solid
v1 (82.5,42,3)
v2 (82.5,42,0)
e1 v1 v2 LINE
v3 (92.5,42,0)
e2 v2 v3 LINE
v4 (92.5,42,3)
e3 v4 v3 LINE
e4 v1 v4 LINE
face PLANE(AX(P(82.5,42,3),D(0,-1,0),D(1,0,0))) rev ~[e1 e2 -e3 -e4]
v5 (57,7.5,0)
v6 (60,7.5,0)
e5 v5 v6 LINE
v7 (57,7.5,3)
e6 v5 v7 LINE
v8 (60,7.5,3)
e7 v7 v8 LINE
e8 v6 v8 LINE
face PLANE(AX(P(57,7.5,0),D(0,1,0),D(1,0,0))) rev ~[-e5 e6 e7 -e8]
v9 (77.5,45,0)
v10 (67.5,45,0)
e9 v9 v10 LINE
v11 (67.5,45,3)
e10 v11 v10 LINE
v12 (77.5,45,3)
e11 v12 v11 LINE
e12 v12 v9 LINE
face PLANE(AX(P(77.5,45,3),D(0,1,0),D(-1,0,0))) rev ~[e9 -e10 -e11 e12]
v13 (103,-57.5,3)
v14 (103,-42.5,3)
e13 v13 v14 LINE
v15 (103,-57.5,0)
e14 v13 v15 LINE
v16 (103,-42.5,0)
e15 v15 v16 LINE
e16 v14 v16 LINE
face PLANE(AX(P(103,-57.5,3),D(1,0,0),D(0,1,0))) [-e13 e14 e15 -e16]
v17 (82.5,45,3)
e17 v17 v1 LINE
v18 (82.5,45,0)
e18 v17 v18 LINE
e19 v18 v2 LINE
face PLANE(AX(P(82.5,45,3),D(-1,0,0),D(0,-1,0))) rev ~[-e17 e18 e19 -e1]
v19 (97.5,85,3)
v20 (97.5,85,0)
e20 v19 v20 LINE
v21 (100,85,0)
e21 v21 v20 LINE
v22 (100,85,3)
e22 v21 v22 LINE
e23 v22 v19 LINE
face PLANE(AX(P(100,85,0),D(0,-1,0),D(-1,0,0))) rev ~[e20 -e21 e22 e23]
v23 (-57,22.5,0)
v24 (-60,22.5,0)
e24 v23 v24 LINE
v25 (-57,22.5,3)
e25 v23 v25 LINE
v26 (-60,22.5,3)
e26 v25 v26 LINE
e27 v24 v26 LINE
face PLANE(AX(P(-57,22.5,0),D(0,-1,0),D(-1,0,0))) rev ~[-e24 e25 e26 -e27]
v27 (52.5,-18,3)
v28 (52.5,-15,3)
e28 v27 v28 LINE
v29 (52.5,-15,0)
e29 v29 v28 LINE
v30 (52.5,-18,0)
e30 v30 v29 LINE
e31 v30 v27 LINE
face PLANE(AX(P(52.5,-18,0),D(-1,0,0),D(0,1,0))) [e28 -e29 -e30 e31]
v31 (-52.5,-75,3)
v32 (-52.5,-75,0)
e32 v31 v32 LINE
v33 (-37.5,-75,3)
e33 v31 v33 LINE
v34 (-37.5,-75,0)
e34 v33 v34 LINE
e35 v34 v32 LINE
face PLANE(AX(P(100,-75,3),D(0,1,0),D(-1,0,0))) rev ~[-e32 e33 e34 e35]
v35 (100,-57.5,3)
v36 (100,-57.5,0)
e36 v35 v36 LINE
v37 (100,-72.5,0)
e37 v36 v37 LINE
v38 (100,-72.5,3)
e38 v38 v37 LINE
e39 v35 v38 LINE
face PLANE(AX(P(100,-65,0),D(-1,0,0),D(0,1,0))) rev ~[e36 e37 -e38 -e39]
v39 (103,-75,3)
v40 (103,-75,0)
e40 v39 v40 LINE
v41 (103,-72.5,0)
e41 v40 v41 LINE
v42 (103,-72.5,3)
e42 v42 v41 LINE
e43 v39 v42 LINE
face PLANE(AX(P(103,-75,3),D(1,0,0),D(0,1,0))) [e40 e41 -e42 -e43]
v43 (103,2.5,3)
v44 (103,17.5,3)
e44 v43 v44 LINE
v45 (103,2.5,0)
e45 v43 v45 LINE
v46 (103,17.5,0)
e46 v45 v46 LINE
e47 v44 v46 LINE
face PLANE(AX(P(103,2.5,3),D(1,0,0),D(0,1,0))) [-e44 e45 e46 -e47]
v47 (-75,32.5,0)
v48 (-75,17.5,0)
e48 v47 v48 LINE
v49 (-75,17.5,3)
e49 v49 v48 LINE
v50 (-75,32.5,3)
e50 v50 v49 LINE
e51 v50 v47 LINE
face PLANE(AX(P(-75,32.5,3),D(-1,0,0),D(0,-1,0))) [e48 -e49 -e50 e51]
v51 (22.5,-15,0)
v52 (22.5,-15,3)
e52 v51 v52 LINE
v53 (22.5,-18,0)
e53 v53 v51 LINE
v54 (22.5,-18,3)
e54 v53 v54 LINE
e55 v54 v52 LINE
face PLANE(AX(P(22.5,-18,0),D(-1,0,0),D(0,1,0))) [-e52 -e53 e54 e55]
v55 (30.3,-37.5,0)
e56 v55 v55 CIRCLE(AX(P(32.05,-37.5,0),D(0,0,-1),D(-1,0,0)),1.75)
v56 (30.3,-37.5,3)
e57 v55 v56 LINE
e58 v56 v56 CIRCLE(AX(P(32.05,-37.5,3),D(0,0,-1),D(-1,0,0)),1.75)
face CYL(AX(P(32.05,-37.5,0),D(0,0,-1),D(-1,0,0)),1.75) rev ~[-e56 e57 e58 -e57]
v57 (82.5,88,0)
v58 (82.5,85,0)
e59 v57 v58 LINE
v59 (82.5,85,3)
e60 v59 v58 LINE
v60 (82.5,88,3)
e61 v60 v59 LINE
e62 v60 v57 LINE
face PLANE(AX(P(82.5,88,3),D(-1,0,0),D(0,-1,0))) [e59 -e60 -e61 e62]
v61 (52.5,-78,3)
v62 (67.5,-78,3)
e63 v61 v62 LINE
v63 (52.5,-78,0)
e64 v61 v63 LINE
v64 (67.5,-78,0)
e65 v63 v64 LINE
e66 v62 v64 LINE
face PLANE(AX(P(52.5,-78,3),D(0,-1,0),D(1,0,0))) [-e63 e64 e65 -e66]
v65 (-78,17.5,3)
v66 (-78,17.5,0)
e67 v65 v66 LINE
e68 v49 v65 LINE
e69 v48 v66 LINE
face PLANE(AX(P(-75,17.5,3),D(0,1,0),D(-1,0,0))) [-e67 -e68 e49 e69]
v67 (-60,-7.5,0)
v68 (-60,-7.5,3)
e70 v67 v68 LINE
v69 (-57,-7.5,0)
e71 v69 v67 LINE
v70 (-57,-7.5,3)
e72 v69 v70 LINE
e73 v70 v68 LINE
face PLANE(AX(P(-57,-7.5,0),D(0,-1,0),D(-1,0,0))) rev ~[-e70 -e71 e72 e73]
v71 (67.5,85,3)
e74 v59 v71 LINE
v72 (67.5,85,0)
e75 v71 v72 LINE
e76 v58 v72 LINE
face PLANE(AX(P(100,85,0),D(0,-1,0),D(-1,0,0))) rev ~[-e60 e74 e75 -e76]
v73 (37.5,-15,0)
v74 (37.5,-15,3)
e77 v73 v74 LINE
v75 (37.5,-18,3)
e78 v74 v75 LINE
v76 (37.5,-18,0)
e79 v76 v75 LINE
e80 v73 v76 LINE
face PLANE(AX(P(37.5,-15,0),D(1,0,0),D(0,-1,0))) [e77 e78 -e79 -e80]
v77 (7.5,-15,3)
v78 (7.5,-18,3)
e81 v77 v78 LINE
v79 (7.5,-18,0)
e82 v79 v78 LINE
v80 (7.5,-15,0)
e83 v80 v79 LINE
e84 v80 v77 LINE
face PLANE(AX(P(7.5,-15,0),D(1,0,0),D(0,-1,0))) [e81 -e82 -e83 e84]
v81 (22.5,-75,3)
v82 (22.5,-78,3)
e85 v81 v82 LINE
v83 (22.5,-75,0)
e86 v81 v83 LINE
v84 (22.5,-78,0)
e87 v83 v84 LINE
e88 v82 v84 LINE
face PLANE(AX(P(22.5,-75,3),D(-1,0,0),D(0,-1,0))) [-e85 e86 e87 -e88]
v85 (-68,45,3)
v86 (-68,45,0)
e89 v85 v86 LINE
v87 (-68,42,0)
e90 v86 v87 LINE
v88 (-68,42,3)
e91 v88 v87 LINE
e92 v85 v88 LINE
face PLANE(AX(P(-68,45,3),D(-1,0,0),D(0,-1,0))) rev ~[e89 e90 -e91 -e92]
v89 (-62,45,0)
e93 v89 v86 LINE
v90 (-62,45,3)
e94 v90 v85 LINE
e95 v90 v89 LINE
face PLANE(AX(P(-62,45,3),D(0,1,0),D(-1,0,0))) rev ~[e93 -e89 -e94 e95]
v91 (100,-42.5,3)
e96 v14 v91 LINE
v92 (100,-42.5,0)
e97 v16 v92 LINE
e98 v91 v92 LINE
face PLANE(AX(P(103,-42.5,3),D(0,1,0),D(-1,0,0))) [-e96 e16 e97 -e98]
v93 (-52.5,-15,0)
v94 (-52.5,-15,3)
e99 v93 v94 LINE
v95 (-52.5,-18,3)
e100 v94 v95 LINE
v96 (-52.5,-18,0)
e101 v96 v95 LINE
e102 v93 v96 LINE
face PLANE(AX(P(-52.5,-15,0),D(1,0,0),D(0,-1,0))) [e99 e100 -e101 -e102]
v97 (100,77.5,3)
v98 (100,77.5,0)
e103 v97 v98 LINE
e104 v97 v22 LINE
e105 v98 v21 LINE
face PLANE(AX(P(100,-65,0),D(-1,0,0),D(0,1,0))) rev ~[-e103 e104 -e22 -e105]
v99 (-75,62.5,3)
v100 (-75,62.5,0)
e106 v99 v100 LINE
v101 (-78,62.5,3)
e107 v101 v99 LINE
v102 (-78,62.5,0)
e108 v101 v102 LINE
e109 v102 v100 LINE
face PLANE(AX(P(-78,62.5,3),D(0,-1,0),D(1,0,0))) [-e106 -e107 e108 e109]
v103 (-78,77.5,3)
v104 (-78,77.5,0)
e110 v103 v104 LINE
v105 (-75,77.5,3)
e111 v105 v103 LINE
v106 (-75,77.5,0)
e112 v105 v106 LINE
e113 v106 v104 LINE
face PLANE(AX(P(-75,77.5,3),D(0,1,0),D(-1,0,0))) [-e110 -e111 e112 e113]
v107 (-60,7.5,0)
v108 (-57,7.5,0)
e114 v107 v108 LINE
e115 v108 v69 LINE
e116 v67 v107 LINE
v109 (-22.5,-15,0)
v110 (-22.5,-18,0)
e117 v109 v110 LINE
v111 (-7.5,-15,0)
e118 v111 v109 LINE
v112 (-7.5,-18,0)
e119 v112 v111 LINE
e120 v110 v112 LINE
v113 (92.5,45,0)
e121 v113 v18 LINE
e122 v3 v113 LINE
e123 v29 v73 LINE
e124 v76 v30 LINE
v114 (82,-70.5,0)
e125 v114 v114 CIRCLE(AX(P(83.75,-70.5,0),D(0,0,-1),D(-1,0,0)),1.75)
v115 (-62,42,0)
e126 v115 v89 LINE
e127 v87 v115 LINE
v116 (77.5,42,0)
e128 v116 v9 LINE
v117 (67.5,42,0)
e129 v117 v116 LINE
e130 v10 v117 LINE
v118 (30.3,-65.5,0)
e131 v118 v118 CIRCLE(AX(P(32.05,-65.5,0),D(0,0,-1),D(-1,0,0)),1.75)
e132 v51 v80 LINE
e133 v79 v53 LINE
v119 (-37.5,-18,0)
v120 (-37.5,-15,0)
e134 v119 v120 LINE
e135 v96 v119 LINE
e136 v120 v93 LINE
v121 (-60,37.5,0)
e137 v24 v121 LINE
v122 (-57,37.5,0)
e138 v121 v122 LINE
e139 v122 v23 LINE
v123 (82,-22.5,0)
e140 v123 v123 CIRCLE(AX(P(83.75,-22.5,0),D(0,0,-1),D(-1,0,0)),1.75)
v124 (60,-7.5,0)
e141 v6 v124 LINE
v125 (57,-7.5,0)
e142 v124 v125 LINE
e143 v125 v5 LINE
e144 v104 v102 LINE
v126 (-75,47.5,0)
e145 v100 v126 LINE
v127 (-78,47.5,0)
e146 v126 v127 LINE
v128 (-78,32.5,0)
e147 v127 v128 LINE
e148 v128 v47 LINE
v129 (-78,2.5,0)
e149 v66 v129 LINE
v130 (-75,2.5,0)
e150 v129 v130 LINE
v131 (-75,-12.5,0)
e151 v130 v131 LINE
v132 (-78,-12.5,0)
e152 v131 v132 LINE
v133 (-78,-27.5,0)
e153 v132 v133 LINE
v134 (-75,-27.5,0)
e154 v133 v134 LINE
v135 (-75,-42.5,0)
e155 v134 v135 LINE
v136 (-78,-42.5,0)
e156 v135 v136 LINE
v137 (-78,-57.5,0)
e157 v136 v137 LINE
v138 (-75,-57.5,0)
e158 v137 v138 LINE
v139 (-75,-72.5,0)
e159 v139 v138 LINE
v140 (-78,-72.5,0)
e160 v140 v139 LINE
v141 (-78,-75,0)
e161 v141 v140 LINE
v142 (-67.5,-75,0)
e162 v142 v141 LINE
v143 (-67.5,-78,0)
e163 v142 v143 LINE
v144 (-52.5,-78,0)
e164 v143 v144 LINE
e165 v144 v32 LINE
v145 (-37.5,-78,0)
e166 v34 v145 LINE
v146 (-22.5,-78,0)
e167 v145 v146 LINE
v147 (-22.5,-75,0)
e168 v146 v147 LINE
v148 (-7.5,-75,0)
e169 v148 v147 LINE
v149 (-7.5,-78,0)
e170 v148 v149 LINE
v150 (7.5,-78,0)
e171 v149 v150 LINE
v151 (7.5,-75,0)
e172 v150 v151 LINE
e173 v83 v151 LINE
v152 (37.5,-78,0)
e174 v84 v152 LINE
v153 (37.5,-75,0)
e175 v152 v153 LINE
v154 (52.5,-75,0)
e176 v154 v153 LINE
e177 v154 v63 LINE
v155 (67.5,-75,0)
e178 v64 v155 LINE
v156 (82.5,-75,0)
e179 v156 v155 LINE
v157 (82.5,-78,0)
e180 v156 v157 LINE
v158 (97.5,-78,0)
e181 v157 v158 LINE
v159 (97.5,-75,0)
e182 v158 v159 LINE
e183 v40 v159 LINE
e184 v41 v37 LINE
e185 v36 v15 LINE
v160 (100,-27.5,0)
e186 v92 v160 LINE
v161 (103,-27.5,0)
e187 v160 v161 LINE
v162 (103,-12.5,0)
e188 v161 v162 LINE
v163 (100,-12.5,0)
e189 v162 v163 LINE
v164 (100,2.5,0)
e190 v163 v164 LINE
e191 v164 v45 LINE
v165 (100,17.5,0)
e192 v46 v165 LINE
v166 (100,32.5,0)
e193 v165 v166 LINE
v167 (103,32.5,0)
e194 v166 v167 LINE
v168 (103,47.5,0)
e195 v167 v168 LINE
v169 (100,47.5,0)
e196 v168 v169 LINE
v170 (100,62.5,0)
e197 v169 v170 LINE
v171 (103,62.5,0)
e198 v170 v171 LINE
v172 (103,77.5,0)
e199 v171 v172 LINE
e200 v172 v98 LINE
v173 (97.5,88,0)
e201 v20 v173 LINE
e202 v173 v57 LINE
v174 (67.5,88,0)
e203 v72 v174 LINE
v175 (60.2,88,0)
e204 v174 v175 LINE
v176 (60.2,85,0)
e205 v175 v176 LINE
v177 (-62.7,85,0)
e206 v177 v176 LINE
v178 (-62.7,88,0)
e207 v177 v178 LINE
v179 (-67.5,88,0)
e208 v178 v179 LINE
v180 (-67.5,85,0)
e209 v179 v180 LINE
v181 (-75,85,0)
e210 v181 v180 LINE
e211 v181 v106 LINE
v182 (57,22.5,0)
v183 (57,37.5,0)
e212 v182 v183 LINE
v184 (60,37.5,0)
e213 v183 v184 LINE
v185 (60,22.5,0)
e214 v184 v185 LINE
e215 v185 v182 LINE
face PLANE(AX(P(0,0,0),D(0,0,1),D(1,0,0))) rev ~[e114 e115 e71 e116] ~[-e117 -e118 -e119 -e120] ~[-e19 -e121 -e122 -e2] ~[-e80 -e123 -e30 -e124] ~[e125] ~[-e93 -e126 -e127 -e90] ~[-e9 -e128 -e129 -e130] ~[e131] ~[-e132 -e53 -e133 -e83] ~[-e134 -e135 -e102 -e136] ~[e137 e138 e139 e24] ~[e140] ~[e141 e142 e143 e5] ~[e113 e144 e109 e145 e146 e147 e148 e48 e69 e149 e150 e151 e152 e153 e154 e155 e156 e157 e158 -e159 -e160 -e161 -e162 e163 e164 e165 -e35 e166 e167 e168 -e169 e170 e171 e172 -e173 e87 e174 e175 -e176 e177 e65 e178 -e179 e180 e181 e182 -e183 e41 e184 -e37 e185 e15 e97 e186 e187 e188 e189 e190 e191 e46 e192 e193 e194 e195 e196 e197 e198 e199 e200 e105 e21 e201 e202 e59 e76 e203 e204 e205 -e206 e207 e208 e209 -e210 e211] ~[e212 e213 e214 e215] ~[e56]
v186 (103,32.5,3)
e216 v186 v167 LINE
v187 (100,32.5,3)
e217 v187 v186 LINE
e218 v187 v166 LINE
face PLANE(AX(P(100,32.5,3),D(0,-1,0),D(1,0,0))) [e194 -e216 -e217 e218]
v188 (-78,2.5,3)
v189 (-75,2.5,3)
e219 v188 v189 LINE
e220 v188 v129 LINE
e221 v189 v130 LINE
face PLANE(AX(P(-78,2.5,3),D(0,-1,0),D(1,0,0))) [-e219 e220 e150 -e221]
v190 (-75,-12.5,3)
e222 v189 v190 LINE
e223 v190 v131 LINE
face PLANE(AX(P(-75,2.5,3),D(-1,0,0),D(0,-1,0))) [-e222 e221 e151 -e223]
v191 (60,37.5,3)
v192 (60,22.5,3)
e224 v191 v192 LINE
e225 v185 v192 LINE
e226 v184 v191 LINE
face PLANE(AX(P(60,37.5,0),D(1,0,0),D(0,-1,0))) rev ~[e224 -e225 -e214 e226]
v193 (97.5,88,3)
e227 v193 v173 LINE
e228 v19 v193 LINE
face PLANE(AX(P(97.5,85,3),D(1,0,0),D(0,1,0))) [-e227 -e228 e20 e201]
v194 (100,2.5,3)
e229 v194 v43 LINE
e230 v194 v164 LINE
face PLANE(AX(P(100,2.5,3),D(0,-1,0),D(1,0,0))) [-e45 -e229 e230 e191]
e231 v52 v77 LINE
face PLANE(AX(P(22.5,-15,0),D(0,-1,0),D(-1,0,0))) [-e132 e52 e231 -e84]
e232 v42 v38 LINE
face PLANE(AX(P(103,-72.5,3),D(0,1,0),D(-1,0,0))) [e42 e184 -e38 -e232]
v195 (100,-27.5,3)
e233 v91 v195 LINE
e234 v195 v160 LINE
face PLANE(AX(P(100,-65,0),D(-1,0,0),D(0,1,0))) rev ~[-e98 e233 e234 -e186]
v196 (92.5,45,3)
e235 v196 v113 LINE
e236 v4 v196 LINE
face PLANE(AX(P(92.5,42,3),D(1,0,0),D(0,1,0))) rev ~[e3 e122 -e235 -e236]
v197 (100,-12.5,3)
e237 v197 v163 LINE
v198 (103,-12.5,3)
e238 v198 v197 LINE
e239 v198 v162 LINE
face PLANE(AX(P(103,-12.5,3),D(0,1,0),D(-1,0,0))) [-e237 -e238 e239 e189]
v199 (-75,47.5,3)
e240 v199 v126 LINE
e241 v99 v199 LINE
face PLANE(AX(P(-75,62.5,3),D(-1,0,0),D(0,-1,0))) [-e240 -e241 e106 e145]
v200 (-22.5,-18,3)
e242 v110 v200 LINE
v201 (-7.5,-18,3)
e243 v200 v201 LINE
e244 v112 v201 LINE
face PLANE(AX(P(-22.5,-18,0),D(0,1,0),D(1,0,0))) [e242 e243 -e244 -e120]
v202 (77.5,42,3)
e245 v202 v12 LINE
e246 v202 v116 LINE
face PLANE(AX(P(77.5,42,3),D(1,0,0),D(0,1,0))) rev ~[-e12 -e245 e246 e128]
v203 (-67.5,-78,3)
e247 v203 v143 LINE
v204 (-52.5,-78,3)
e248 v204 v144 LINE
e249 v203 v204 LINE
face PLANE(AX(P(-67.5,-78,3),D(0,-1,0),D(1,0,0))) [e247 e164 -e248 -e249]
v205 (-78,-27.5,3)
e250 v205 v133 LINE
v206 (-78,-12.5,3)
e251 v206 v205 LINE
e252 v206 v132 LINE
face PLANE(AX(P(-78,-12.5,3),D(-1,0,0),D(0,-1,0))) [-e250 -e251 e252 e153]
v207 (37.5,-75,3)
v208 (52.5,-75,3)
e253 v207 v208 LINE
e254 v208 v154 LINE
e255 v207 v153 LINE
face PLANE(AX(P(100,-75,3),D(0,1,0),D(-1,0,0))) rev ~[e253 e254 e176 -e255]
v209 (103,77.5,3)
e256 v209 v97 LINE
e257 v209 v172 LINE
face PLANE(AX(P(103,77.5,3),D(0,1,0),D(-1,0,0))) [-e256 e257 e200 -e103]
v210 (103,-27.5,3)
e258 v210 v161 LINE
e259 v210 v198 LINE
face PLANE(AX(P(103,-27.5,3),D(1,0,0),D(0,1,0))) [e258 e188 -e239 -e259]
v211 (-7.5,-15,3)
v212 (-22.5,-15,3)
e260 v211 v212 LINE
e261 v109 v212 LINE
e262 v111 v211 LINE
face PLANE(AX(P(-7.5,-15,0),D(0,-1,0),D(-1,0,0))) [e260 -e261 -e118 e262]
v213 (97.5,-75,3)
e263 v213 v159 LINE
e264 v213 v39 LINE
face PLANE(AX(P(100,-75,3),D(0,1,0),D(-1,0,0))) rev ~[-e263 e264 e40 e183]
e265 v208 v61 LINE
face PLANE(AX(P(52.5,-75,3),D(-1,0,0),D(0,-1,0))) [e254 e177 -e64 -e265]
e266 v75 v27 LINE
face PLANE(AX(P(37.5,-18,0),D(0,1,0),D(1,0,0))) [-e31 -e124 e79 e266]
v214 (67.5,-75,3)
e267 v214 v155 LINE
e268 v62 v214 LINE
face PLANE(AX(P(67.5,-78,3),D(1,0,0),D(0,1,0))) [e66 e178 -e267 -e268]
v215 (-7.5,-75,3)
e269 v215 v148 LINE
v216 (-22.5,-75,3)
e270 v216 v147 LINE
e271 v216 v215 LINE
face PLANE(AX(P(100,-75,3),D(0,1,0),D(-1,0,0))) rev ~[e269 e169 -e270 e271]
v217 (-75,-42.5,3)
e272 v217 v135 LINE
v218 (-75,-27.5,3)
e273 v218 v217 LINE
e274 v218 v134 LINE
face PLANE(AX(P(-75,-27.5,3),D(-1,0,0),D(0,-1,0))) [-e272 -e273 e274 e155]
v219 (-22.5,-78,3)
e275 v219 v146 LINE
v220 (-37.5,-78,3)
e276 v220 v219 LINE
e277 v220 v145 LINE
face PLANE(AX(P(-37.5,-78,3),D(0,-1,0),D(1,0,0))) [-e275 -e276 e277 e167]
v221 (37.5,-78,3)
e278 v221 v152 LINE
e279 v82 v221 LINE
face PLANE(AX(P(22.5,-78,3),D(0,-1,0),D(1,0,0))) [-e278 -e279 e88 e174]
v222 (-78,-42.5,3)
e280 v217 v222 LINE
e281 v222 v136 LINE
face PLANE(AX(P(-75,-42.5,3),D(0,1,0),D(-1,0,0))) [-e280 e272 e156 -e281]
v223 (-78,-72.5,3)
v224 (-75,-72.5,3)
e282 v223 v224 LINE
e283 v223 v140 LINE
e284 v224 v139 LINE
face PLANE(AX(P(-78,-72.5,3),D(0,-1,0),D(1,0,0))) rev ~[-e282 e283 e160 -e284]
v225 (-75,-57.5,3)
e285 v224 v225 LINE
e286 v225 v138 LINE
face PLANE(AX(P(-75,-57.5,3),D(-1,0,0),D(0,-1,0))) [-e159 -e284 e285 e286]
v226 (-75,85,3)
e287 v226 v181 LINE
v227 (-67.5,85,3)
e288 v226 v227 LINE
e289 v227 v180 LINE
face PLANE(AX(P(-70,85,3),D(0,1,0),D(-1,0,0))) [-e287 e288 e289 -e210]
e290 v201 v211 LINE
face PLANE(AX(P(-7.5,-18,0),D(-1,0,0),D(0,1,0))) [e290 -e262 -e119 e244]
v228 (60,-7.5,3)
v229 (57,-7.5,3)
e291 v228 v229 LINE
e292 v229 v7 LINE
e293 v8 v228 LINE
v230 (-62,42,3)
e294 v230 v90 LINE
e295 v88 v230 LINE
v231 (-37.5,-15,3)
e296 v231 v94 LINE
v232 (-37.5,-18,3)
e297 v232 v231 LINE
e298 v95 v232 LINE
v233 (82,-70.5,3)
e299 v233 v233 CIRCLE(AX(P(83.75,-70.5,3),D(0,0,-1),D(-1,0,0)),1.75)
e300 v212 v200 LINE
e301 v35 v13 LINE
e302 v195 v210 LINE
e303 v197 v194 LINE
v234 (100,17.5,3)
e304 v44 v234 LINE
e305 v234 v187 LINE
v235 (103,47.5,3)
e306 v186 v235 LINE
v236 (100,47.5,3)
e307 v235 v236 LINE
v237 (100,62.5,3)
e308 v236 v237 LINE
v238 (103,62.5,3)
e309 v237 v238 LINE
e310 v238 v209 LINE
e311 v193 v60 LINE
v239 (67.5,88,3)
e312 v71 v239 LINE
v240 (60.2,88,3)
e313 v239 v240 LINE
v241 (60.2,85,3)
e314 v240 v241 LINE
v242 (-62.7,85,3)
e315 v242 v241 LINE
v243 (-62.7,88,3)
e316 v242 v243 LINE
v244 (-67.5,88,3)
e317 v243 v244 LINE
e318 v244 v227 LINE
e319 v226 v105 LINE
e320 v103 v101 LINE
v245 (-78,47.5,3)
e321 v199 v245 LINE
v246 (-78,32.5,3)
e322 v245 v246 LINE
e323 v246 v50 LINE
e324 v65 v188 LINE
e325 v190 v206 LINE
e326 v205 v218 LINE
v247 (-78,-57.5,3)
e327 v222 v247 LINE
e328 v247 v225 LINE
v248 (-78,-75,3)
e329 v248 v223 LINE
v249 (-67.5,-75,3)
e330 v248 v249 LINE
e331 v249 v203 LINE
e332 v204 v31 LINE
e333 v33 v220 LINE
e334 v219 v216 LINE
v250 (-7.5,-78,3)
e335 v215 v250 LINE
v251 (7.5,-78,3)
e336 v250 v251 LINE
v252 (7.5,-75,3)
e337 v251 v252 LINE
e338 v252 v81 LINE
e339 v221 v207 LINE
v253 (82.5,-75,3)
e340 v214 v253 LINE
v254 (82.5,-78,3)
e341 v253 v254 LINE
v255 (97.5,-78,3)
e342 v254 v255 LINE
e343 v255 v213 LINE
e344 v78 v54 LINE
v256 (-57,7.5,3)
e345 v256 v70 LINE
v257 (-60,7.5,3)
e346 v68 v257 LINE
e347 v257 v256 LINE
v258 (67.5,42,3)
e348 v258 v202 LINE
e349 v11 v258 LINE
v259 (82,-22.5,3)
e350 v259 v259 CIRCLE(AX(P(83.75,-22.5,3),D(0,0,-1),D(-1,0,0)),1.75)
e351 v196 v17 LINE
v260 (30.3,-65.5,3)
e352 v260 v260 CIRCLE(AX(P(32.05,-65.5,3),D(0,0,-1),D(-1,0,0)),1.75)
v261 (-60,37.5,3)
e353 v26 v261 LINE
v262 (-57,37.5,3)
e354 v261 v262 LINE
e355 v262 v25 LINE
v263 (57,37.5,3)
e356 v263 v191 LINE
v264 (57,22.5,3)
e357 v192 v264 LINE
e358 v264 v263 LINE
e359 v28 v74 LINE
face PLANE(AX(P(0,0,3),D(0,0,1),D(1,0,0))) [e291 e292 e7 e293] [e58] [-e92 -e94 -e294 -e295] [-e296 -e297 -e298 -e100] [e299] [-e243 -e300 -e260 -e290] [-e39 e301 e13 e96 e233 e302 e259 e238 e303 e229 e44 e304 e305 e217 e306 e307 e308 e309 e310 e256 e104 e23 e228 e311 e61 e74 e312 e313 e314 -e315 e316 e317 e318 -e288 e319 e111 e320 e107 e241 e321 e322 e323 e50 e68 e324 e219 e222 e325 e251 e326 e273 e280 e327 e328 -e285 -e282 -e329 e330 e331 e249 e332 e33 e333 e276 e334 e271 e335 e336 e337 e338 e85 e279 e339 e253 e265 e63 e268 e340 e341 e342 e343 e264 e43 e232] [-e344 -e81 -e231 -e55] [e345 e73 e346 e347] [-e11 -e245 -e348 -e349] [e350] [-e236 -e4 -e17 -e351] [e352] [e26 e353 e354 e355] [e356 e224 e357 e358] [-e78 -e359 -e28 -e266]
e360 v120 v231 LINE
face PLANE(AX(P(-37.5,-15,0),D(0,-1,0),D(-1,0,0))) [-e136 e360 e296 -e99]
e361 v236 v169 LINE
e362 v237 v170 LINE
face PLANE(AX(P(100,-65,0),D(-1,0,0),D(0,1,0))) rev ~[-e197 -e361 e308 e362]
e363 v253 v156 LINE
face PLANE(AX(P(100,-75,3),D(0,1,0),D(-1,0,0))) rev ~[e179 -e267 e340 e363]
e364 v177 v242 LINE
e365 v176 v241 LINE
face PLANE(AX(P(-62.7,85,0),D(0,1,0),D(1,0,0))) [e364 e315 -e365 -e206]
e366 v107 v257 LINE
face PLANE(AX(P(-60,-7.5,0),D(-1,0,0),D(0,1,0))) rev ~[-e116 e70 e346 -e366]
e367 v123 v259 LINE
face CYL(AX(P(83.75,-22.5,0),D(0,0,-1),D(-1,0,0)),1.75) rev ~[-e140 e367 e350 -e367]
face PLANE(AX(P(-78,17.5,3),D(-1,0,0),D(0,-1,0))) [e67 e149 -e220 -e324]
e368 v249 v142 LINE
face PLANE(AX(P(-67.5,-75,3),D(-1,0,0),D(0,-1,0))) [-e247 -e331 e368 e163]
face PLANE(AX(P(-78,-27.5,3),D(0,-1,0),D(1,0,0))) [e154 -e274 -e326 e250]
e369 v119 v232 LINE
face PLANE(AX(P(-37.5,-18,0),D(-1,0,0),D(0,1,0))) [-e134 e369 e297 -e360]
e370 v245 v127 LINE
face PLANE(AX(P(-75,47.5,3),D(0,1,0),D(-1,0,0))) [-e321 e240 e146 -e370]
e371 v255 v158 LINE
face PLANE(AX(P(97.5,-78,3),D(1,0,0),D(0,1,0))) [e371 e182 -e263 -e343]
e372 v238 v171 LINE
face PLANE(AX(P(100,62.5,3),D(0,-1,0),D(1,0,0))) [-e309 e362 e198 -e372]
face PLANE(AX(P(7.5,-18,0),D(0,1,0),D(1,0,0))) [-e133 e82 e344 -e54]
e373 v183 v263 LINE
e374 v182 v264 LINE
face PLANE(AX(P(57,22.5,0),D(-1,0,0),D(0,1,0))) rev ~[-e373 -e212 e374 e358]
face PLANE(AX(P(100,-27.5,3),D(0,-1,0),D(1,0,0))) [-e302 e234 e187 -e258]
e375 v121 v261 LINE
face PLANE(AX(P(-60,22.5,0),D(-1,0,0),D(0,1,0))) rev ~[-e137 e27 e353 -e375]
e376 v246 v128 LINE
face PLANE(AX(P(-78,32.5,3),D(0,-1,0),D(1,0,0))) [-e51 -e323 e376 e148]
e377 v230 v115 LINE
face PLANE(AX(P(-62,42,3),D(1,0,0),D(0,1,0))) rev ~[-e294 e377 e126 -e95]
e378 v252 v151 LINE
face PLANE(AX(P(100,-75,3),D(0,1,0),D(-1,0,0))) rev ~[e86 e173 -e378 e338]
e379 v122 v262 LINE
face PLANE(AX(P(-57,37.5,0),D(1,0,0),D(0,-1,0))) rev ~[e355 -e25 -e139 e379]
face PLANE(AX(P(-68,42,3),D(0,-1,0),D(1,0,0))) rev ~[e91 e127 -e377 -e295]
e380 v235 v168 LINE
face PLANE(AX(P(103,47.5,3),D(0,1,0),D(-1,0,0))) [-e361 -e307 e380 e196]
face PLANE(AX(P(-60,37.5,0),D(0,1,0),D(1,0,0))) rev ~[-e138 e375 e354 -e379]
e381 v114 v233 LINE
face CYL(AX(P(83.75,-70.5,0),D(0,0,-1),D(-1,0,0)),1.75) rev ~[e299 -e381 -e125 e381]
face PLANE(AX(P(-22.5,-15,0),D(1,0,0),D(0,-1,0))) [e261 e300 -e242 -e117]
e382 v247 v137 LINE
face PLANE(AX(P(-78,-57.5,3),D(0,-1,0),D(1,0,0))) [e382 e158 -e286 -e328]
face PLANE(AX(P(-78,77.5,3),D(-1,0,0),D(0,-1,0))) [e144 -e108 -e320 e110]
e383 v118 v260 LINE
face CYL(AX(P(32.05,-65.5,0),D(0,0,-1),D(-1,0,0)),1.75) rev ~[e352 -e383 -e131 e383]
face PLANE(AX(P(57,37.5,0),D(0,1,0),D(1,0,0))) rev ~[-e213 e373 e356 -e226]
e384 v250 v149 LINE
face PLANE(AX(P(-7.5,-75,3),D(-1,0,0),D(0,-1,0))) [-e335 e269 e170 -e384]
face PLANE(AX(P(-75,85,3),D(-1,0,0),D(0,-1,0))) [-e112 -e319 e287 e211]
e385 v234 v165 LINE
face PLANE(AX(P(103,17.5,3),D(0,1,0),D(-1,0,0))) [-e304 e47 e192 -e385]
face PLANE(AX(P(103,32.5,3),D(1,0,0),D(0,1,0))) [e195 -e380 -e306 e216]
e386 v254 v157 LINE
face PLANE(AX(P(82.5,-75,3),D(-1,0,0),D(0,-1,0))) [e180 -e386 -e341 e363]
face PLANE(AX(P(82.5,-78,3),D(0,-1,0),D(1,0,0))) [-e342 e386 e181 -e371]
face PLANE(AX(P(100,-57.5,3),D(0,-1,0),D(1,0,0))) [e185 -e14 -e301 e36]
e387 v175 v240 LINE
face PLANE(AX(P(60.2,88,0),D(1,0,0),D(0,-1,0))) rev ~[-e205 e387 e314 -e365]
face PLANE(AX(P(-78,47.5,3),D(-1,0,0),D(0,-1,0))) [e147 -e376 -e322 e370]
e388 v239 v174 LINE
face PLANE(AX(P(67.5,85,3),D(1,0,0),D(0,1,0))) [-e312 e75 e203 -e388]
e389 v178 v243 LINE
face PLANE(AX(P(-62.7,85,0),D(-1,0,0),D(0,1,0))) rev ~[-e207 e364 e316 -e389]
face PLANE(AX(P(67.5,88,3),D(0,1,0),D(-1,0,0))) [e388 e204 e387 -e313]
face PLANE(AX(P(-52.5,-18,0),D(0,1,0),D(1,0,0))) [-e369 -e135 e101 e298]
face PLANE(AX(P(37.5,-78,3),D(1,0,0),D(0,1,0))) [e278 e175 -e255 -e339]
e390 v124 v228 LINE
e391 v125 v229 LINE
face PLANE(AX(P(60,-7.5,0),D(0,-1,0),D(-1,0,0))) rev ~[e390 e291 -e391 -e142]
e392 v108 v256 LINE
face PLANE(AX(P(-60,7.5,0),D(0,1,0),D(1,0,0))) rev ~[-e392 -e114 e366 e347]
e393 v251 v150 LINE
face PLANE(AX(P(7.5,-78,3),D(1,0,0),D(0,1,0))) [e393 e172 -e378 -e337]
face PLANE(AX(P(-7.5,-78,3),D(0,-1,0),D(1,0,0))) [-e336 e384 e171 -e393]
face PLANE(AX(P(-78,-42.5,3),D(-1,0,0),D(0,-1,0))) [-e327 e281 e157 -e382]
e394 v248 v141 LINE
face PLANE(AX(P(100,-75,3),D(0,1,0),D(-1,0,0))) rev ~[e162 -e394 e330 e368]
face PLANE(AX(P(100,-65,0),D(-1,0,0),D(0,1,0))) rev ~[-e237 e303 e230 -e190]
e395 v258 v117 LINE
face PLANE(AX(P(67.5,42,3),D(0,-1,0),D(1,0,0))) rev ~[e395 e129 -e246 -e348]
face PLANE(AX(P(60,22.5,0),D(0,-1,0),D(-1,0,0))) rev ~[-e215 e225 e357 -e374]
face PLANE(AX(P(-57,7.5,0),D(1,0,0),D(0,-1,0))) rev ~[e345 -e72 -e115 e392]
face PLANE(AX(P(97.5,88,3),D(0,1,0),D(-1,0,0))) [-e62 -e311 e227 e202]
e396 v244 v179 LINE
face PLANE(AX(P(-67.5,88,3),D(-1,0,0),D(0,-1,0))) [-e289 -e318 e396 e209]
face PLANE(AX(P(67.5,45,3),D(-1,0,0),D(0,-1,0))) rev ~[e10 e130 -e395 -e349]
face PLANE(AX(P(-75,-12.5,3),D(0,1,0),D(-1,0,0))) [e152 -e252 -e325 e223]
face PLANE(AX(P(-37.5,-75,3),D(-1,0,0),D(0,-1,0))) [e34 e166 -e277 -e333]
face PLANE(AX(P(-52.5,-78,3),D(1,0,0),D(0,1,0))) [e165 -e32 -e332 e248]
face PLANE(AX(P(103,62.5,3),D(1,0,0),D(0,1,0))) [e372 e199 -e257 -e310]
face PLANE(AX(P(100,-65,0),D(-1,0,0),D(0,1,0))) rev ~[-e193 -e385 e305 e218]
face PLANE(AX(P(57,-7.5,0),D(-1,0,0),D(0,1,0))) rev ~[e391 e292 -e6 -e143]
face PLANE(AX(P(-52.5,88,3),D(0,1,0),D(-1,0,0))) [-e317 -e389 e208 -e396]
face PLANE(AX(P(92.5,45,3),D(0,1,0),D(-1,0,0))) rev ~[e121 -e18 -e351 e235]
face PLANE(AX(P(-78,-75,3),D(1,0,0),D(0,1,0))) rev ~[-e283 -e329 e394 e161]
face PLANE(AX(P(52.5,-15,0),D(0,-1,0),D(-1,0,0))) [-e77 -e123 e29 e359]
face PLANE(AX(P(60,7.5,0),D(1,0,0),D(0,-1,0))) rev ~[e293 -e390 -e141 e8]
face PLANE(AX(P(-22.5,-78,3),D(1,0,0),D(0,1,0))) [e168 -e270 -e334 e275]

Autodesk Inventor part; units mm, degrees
ref_plane "YZ Plane" through (0, 0, 0) normal (1, 0, 0) x (0, 1, 0)
ref_plane "XZ Plane" through (0, 0, 0) normal (0, 1, 0) x (-1, 0, 0)
ref_plane "XY Plane" through (0, 0, 0) normal (0, 0, 1) x (1, 0, 0)
sketch "Sketch1" plane through (0, 0, 0) normal (0, 0, 1) x (1, 0, 0)
  line L0 (-70, -65) -> (70, -65)
  line L1 (-70, 65) -> (-70, -65)
  line L2 (-70, -65) -> (70, 65) construction
  line L3 (70, -65) -> (-70, 65) construction
  line L4 (-52.5, -18) -> (-37.5, -18)
  line L5 (-37.5, -18) -> (-37.5, -15)
  line L6 (-37.5, -15) -> (-52.5, -15)
  line L7 (-52.5, -15) -> (-52.5, -18)
  line L8 (-52.5, -18) -> (-37.5, -15) construction
  line L9 (-37.5, -18) -> (-52.5, -15) construction
  line L10 (-22.5, -18) -> (-7.5, -18)
  line L11 (-7.5, -18) -> (-7.5, -15)
  line L12 (-7.5, -15) -> (-22.5, -15)
  line L13 (-22.5, -15) -> (-22.5, -18)
  line L14 (-22.5, -18) -> (-7.5, -15) construction
  line L15 (-7.5, -18) -> (-22.5, -15) construction
  line L16 (7.5, -18) -> (22.5, -18)
  line L17 (22.5, -18) -> (22.5, -15)
  line L18 (22.5, -15) -> (7.5, -15)
  line L19 (7.5, -15) -> (7.5, -18)
  line L20 (7.5, -18) -> (22.5, -15) construction
  line L21 (22.5, -18) -> (7.5, -15) construction
  line L22 (37.5, -18) -> (52.5, -18)
  line L23 (52.5, -18) -> (52.5, -15)
  line L24 (52.5, -15) -> (37.5, -15)
  line L25 (37.5, -15) -> (37.5, -18)
  line L26 (37.5, -18) -> (52.5, -15) construction
  line L27 (52.5, -18) -> (37.5, -15) construction
  line L28 (-52.5, -15) -> (-57, -15) construction
  line L29 (-57, -15) -> (-57, -7.5) construction
  line L30 (-57, -7.5) -> (-60, -7.5)
  line L31 (-60, -7.5) -> (-60, 7.5)
  line L32 (-60, 7.5) -> (-57, 7.5)
  line L33 (-57, 7.5) -> (-57, -7.5)
  line L34 (-60, 37.5) -> (-57, 37.5)
  line L35 (-60, 22.5) -> (-60, 37.5)
  line L36 (-57, 37.5) -> (-57, 22.5)
  line L37 (-57, 22.5) -> (-60, 22.5)
  line L38 (57, 7.5) -> (60, 7.5)
  line L39 (57, -7.5) -> (57, 7.5)
  line L40 (60, 7.5) -> (60, -7.5)
  line L41 (60, -7.5) -> (57, -7.5)
  line L42 (57, 37.5) -> (60, 37.5)
  line L43 (57, 22.5) -> (57, 37.5)
  line L44 (60, 37.5) -> (60, 22.5)
  line L45 (60, 22.5) -> (57, 22.5)
  line L46 (70, -65) -> (100, -65)
  line L47 (100, -65) -> (100, 85)
  line L48 (100, 85) -> (-70, 85)
  line L49 (-70, 85) -> (-70, 65)
  point P0 (0, 0)
  point P1 (-45, -16.5)
  point P2 (-15, -16.5)
  point P3 (15, -16.5)
  point P4 (45, -16.5)
  dimension "d0" = 140
  dimension "d1" = 130
  dimension "d2" = 15
  dimension "d3" = 3
  dimension "d4" = 17.5
  dimension "d8" = 30
  dimension "d13" = 4.5
  dimension "d14" = 7.5
  dimension "d15" = 3
  dimension "d16" = 15
  dimension "d19" = 30
  dimension "d22" = 117
  dimension "d27" = 30
  dimension "d28" = 150
  dimension "d29" = 47.121
  dimension "d30" = 47.121
  dimension "d31" = 57.5
extrude "Extrusion1" add sketch "Sketch1" along normal blind 3
sketch "Sketch2" plane through (0, 0, 3) normal (0, 0, 1) x (1, 0, 0)
  line L0 (100, 85) -> (-70, 85) projected
  line L1 (-67.5, 85) -> (-52.5, 85)
  line L2 (-52.5, 85) -> (-52.5, 88)
  line L3 (-52.5, 88) -> (-67.5, 88)
  line L4 (-67.5, 88) -> (-67.5, 85)
  line L5 (-70, 85) -> (-70, -65) projected
  line L6 (-37.5, 85) -> (-22.5, 85)
  line L7 (-22.5, 85) -> (-22.5, 88)
  line L8 (-22.5, 88) -> (-37.5, 88)
  line L9 (-37.5, 88) -> (-37.5, 85)
  line L10 (-7.5, 85) -> (7.5, 85)
  line L11 (7.5, 85) -> (7.5, 88)
  line L12 (7.5, 88) -> (-7.5, 88)
  line L13 (-7.5, 88) -> (-7.5, 85)
  line L14 (22.5, 85) -> (37.5, 85)
  line L15 (37.5, 85) -> (37.5, 88)
  line L16 (37.5, 88) -> (22.5, 88)
  line L17 (22.5, 88) -> (22.5, 85)
  line L18 (52.5, 85) -> (67.5, 85)
  line L19 (67.5, 85) -> (67.5, 88)
  line L20 (67.5, 88) -> (52.5, 88)
  line L21 (52.5, 88) -> (52.5, 85)
  line L22 (82.5, 85) -> (97.5, 85)
  line L23 (97.5, 85) -> (97.5, 88)
  line L24 (97.5, 88) -> (82.5, 88)
  line L25 (82.5, 88) -> (82.5, 85)
  line L26 (-67.5, -78) -> (-52.5, -78)
  line L27 (-52.5, -78) -> (-52.5, -75)
  line L28 (-52.5, -75) -> (-67.5, -75)
  line L29 (-67.5, -75) -> (-67.5, -78)
  line L30 (-37.5, -78) -> (-22.5, -78)
  line L31 (-22.5, -78) -> (-22.5, -75)
  line L32 (-22.5, -75) -> (-37.5, -75)
  line L33 (-37.5, -75) -> (-37.5, -78)
  line L34 (-7.5, -78) -> (7.5, -78)
  line L35 (7.5, -78) -> (7.5, -75)
  line L36 (7.5, -75) -> (-7.5, -75)
  line L37 (-7.5, -75) -> (-7.5, -78)
  line L38 (22.5, -78) -> (37.5, -78)
  line L39 (37.5, -78) -> (37.5, -75)
  line L40 (37.5, -75) -> (22.5, -75)
  line L41 (22.5, -75) -> (22.5, -78)
  line L42 (52.5, -78) -> (67.5, -78)
  line L43 (67.5, -78) -> (67.5, -75)
  line L44 (67.5, -75) -> (52.5, -75)
  line L45 (52.5, -75) -> (52.5, -78)
  line L46 (82.5, -78) -> (97.5, -78)
  line L47 (97.5, -78) -> (97.5, -75)
  line L48 (97.5, -75) -> (82.5, -75)
  line L49 (82.5, -75) -> (82.5, -78)
  line L50 (-70, 77.5) -> (-73, 77.5)
  line L51 (-73, 77.5) -> (-73, 62.5)
  line L52 (-73, 62.5) -> (-70, 62.5)
  line L53 (-70, 62.5) -> (-70, 77.5)
  line L54 (-70, 32.5) -> (-70, 47.5)
  line L55 (-73, 32.5) -> (-70, 32.5)
  line L56 (-73, 47.5) -> (-73, 32.5)
  line L57 (-70, 47.5) -> (-73, 47.5)
  line L58 (-70, 2.5) -> (-70, 17.5)
  line L59 (-73, 2.5) -> (-70, 2.5)
  line L60 (-73, 17.5) -> (-73, 2.5)
  line L61 (-70, 17.5) -> (-73, 17.5)
  line L62 (-70, -27.5) -> (-70, -12.5)
  line L63 (-73, -27.5) -> (-70, -27.5)
  line L64 (-73, -12.5) -> (-73, -27.5)
  line L65 (-70, -12.5) -> (-73, -12.5)
  line L66 (-70, -57.5) -> (-70, -42.5)
  line L67 (-73, -57.5) -> (-70, -57.5)
  line L68 (-73, -42.5) -> (-73, -57.5)
  line L69 (-70, -42.5) -> (-73, -42.5)
  line L70 (103, 62.5) -> (103, 77.5)
  line L71 (100, 62.5) -> (103, 62.5)
  line L72 (100, 77.5) -> (100, 62.5)
  line L73 (103, 77.5) -> (100, 77.5)
  line L74 (103, 32.5) -> (103, 47.5)
  line L75 (100, 32.5) -> (103, 32.5)
  line L76 (100, 47.5) -> (100, 32.5)
  line L77 (103, 47.5) -> (100, 47.5)
  line L78 (103, 2.5) -> (103, 17.5)
  line L79 (100, 2.5) -> (103, 2.5)
  line L80 (100, 17.5) -> (100, 2.5)
  line L81 (103, 17.5) -> (100, 17.5)
  line L82 (103, -27.5) -> (103, -12.5)
  line L83 (100, -27.5) -> (103, -27.5)
  line L84 (100, -12.5) -> (100, -27.5)
  line L85 (103, -12.5) -> (100, -12.5)
  line L86 (103, -57.5) -> (103, -42.5)
  line L87 (100, -57.5) -> (103, -57.5)
  line L88 (100, -42.5) -> (100, -57.5)
  line L89 (103, -42.5) -> (100, -42.5)
  point P0 (0, 0)
  dimension "d32" = 15
  dimension "d33" = 3
  dimension "d34" = 2.5
  dimension "d37" = 30
  dimension "d40" = 163
  dimension "d43" = 3
  dimension "d44" = 15
  dimension "d45" = 7.5
  dimension "d48" = 30
  dimension "d51" = 173
  dimension "d138" = 15
  dimension "d139" = 37.5
extrude "Extrusion2" add sketch "Sketch2" against normal blind 3
sketch "Sketch3" plane through (0, 0, 3) normal (0, 0, 1) x (1, 0, 0)
  line L0 (-57, 22.5) -> (-57, 37.5) projected
  line L1 (-70, 62.5) -> (-70, 47.5) projected
  line L2 (-73, 32.5) -> (-73, 47.5) projected
  line L3 (-62, 42) -> (-62, 45)
  line L4 (-62, 45) -> (-68, 45)
  line L5 (-68, 45) -> (-68, 42)
  line L6 (-68, 42) -> (-62, 42)
  line L7 (-60, 37.5) -> (-60, 22.5) construction
  line L8 (-60, 37.5) -> (-60, 42) construction
  line L9 (-60, 42) -> (-62, 42) construction
  point P0 (0, 0)
  dimension "d67" = 3
  dimension "d68" = 6
  dimension "d69" = 4.5
  dimension "d70" = 2
extrude "Extrusion3" cut sketch "Sketch3" against normal blind 3
sketch "Sketch4" plane through (0, 0, 3) normal (0, 0, 1) x (1, 0, 0)
  line L0 (57, 37.5) -> (57, 22.5) projected
  line L1 (60, 37.5) -> (60, 42) construction
  line L2 (100, 47.5) -> (100, 62.5) projected
  line L3 (-62, 42) -> (-62, 45) projected
  line L4 (60, 42) -> (67.5, 42) construction
  line L5 (67.5, 42) -> (77.5, 42)
  line L6 (77.5, 42) -> (77.5, 45)
  line L7 (77.5, 45) -> (67.5, 45)
  line L8 (67.5, 45) -> (67.5, 42)
  line L9 (77.5, 42) -> (82.5, 42) construction
  line L10 (82.5, 42) -> (92.5, 42)
  line L11 (92.5, 42) -> (92.5, 45)
  line L12 (92.5, 45) -> (82.5, 45)
  line L13 (82.5, 45) -> (82.5, 42)
  point P0 (0, 0)
  dimension "d75" = 4.5
  dimension "d81" = 7.5
  dimension "d82" = 10
  dimension "d83" = 3
  dimension "d84" = 5
  dimension "d85" = 10
  dimension "d86" = 3
extrude "Extrusion4" cut sketch "Sketch4" against normal blind 3
sketch "Sketch5" plane through (0, 0, 3) normal (0, 0, 1) x (1, 0, 0)
  line L0 (-70, 85) -> (-70, 77.5) projected
  line L1 (-70, 85) -> (-75, 85)
  line L2 (-75, 85) -> (-75, 77.5)
  line L3 (-75, 77.5) -> (-78, 77.5)
  line L4 (-78, 77.5) -> (-78, 62.5)
  line L5 (-78, 62.5) -> (-75, 62.5)
  line L6 (-75, 62.5) -> (-75, 47.5)
  line L7 (-75, 47.5) -> (-78, 47.5)
  line L8 (-78, 47.5) -> (-78, 32.5)
  line L9 (-78, 32.5) -> (-75, 32.5)
  line L10 (-75, 32.5) -> (-75, 17.5)
  line L11 (-75, 17.5) -> (-78, 17.5)
  line L12 (-78, 17.5) -> (-78, 2.5)
  line L13 (-78, 2.5) -> (-75, 2.5)
  line L14 (-75, 2.5) -> (-75, -12.5)
  line L15 (-75, -12.5) -> (-78, -12.5)
  line L16 (-78, -12.5) -> (-78, -27.5)
  line L17 (-78, -27.5) -> (-75, -27.5)
  line L18 (-75, -27.5) -> (-75, -42.5)
  line L19 (-75, -42.5) -> (-78, -42.5)
  line L20 (-78, -42.5) -> (-78, -57.5)
  line L21 (-78, -57.5) -> (-75, -57.5)
  line L22 (-75, -57.5) -> (-75, -65)
  line L23 (-70, -65) -> (100, -65) projected
  line L24 (-75, -65) -> (-70, -65)
  line L25 (-70, -65) -> (-70, 85)
  point P0 (0, 0)
  point P1 (-67.5, -65)
  dimension "d89" = 5
  dimension "d90" = 7.5
  dimension "d91" = 3
  dimension "d92" = 15
  dimension "d93" = 3
  dimension "d94" = 15
  dimension "d95" = 3
  dimension "d96" = 15
  dimension "d97" = 3
  dimension "d98" = 15
  dimension "d99" = 3
  dimension "d100" = 15
  dimension "d101" = 3
  dimension "d102" = 15
  dimension "d103" = 3
  dimension "d104" = 15
  dimension "d105" = 3
  dimension "d106" = 15
  dimension "d107" = 3
  dimension "d108" = 15
  dimension "d109" = 3
  dimension "d110" = 7.5
extrude "Extrusion5" add sketch "Sketch5" against normal blind 3
sketch "Sketch6" plane through (0, 0, 0) normal (0, 0, -1) x (-1, 0, 0)
  line L0 (-103, 88) -> (-60.2, 88) construction
  line L1 (-52.5, 88) -> (-67.5, 88) projected
  line L2 (-60.2, 88) -> (-60.2, 85)
  line L3 (78, 85) -> (62.7, 85) construction
  line L4 (67.5, 85) -> (75, 85) projected
  line L5 (62.7, 85) -> (62.7, 88)
  line L6 (67.5, 88) -> (52.5, 88) projected
  line L7 (62.7, 85) -> (-60.2, 85)
  line L8 (-60.2, 88) -> (62.7, 88)
  point P0 (0, 0)
  dimension "d113" = 42.8
  dimension "d114" = 3
  dimension "d115" = 15.3
  dimension "d116" = 122.9
  dimension "d117" = 12.3
extrude "Extrusion6" cut sketch "Sketch6" against normal blind 3
sketch "Sketch9" plane through (0, 0, 3) normal (0, 0, 1) x (1, 0, 0)
  line L0 (-75, -65) -> (100, -65) projected
  line L1 (-75, -65) -> (100, -65)
  line L2 (100, -65) -> (100, -75)
  line L3 (100, -75) -> (-75, -75)
  line L4 (-75, -75) -> (-75, -65)
  line L5 (-78, -57.5) -> (-75, -57.5) construction
  line L6 (-78, -57.5) -> (-78, -72.5) construction
  line L7 (-78, -72.5) -> (-75, -72.5)
  line L8 (-75, -72.5) -> (-75, -75)
  line L9 (-75, -75) -> (-78, -75)
  line L10 (-78, -75) -> (-78, -72.5)
  line L11 (100, -75) -> (103, -75)
  line L12 (103, -75) -> (103, -72.5)
  line L13 (103, -72.5) -> (100, -72.5)
  line L14 (100, -72.5) -> (100, -75)
  point P0 (0, 0)
  dimension "d140" = 175
  dimension "d141" = 10
  dimension "d143" = 15
  dimension "d144" = 3
  dimension "d145" = 2.5
extrude "Extrusion9" add sketch "Sketch9" against normal blind 3
sketch "Sketch10" plane through (0, 0, 0) normal (0, 0, -1) x (-1, 0, 0)
  circle A0 centre (-32.05, -65.5) radius 1.75
  line L0 (-29.3, -73.25) -> (-29.3, -19.75) construction
  circle A1 centre (-32.05, -37.5) radius 1.75
  line L1 (-29.3, -19.75) -> (-98, -19.75) construction
  line L2 (-98, -73.25) -> (-29.3, -73.25) construction
  line L3 (-29.3, -19.75) -> (-98, -73.25) construction
  line L4 (-98, -19.75) -> (-29.3, -73.25) construction
  circle A2 centre (-83.75, -22.5) radius 1.75
  line L5 (-98, -19.75) -> (-98, -73.25) construction
  circle A3 centre (-83.75, -70.5) radius 1.75
  line L6 (-84.5, -75) -> (-69.5, -75)
  line L7 (-39.5, -18) -> (-54.5, -18)
  line L8 (-100, -57.5) -> (-100, -72.5)
  line L9 (-100, -57.5) -> (-100, -72.5) projected
  point P0 (0, 0)
  point P1 (0, 0)
  point P2 (-63.65, -46.5)
  dimension "d148" = 68.7
  dimension "d149" = 53.5
  dimension "d150" = 3.5
  dimension "d151" = 1
  dimension "d152" = 12.5
  dimension "d153" = 3.5
  dimension "d154" = 1
  dimension "d155" = 12.5
  dimension "d156" = 3.5
  dimension "d157" = 1
  dimension "d158" = 3.5
  dimension "d159" = 1
  dimension "d160" = 6
  dimension "d161" = 16
  dimension "d162" = 1.75
  dimension "d163" = 1.75
  dimension "d164" = 2
  dimension "d165" = 1.75
  dimension "d170" = 10.2
  dimension "d171" = 25.2
  dimension "d172" = 40.2
  dimension "d173" = 55.2
  dimension "d174" = 39.5
  dimension "d175" = 54.5
  dimension "d178" = 0
  dimension "d179" = 18
  dimension "d180" = 100
  dimension "d181" = 18
extrude "Extrusion10" cut sketch "Sketch10" against normal blind 10
equation "\"d150\" = d153"
equation "\"d156\" = d153"
equation "\"d158\" = d153"
equation "\"d162\" = d163"
equation "\"BendRadius\" = Thickness"
equation "\"BendReliefWidth\" = Thickness"
equation "\"BendReliefDepth\" = 0.5 * Thickness"
equation "\"CornerReliefSize\" = 4 * Thickness"
equation "\"MinimumRemnant\" = 2 * Thickness"
equation "\"TransitionRadius\" = BendRadius"
equation "\"JacobiRadiusSize\" = BendRadius"
equation "\"GapSize\" = Thickness"
equation "\"Thickness\" = 0.5"
properties part number "5 onder plaat"
